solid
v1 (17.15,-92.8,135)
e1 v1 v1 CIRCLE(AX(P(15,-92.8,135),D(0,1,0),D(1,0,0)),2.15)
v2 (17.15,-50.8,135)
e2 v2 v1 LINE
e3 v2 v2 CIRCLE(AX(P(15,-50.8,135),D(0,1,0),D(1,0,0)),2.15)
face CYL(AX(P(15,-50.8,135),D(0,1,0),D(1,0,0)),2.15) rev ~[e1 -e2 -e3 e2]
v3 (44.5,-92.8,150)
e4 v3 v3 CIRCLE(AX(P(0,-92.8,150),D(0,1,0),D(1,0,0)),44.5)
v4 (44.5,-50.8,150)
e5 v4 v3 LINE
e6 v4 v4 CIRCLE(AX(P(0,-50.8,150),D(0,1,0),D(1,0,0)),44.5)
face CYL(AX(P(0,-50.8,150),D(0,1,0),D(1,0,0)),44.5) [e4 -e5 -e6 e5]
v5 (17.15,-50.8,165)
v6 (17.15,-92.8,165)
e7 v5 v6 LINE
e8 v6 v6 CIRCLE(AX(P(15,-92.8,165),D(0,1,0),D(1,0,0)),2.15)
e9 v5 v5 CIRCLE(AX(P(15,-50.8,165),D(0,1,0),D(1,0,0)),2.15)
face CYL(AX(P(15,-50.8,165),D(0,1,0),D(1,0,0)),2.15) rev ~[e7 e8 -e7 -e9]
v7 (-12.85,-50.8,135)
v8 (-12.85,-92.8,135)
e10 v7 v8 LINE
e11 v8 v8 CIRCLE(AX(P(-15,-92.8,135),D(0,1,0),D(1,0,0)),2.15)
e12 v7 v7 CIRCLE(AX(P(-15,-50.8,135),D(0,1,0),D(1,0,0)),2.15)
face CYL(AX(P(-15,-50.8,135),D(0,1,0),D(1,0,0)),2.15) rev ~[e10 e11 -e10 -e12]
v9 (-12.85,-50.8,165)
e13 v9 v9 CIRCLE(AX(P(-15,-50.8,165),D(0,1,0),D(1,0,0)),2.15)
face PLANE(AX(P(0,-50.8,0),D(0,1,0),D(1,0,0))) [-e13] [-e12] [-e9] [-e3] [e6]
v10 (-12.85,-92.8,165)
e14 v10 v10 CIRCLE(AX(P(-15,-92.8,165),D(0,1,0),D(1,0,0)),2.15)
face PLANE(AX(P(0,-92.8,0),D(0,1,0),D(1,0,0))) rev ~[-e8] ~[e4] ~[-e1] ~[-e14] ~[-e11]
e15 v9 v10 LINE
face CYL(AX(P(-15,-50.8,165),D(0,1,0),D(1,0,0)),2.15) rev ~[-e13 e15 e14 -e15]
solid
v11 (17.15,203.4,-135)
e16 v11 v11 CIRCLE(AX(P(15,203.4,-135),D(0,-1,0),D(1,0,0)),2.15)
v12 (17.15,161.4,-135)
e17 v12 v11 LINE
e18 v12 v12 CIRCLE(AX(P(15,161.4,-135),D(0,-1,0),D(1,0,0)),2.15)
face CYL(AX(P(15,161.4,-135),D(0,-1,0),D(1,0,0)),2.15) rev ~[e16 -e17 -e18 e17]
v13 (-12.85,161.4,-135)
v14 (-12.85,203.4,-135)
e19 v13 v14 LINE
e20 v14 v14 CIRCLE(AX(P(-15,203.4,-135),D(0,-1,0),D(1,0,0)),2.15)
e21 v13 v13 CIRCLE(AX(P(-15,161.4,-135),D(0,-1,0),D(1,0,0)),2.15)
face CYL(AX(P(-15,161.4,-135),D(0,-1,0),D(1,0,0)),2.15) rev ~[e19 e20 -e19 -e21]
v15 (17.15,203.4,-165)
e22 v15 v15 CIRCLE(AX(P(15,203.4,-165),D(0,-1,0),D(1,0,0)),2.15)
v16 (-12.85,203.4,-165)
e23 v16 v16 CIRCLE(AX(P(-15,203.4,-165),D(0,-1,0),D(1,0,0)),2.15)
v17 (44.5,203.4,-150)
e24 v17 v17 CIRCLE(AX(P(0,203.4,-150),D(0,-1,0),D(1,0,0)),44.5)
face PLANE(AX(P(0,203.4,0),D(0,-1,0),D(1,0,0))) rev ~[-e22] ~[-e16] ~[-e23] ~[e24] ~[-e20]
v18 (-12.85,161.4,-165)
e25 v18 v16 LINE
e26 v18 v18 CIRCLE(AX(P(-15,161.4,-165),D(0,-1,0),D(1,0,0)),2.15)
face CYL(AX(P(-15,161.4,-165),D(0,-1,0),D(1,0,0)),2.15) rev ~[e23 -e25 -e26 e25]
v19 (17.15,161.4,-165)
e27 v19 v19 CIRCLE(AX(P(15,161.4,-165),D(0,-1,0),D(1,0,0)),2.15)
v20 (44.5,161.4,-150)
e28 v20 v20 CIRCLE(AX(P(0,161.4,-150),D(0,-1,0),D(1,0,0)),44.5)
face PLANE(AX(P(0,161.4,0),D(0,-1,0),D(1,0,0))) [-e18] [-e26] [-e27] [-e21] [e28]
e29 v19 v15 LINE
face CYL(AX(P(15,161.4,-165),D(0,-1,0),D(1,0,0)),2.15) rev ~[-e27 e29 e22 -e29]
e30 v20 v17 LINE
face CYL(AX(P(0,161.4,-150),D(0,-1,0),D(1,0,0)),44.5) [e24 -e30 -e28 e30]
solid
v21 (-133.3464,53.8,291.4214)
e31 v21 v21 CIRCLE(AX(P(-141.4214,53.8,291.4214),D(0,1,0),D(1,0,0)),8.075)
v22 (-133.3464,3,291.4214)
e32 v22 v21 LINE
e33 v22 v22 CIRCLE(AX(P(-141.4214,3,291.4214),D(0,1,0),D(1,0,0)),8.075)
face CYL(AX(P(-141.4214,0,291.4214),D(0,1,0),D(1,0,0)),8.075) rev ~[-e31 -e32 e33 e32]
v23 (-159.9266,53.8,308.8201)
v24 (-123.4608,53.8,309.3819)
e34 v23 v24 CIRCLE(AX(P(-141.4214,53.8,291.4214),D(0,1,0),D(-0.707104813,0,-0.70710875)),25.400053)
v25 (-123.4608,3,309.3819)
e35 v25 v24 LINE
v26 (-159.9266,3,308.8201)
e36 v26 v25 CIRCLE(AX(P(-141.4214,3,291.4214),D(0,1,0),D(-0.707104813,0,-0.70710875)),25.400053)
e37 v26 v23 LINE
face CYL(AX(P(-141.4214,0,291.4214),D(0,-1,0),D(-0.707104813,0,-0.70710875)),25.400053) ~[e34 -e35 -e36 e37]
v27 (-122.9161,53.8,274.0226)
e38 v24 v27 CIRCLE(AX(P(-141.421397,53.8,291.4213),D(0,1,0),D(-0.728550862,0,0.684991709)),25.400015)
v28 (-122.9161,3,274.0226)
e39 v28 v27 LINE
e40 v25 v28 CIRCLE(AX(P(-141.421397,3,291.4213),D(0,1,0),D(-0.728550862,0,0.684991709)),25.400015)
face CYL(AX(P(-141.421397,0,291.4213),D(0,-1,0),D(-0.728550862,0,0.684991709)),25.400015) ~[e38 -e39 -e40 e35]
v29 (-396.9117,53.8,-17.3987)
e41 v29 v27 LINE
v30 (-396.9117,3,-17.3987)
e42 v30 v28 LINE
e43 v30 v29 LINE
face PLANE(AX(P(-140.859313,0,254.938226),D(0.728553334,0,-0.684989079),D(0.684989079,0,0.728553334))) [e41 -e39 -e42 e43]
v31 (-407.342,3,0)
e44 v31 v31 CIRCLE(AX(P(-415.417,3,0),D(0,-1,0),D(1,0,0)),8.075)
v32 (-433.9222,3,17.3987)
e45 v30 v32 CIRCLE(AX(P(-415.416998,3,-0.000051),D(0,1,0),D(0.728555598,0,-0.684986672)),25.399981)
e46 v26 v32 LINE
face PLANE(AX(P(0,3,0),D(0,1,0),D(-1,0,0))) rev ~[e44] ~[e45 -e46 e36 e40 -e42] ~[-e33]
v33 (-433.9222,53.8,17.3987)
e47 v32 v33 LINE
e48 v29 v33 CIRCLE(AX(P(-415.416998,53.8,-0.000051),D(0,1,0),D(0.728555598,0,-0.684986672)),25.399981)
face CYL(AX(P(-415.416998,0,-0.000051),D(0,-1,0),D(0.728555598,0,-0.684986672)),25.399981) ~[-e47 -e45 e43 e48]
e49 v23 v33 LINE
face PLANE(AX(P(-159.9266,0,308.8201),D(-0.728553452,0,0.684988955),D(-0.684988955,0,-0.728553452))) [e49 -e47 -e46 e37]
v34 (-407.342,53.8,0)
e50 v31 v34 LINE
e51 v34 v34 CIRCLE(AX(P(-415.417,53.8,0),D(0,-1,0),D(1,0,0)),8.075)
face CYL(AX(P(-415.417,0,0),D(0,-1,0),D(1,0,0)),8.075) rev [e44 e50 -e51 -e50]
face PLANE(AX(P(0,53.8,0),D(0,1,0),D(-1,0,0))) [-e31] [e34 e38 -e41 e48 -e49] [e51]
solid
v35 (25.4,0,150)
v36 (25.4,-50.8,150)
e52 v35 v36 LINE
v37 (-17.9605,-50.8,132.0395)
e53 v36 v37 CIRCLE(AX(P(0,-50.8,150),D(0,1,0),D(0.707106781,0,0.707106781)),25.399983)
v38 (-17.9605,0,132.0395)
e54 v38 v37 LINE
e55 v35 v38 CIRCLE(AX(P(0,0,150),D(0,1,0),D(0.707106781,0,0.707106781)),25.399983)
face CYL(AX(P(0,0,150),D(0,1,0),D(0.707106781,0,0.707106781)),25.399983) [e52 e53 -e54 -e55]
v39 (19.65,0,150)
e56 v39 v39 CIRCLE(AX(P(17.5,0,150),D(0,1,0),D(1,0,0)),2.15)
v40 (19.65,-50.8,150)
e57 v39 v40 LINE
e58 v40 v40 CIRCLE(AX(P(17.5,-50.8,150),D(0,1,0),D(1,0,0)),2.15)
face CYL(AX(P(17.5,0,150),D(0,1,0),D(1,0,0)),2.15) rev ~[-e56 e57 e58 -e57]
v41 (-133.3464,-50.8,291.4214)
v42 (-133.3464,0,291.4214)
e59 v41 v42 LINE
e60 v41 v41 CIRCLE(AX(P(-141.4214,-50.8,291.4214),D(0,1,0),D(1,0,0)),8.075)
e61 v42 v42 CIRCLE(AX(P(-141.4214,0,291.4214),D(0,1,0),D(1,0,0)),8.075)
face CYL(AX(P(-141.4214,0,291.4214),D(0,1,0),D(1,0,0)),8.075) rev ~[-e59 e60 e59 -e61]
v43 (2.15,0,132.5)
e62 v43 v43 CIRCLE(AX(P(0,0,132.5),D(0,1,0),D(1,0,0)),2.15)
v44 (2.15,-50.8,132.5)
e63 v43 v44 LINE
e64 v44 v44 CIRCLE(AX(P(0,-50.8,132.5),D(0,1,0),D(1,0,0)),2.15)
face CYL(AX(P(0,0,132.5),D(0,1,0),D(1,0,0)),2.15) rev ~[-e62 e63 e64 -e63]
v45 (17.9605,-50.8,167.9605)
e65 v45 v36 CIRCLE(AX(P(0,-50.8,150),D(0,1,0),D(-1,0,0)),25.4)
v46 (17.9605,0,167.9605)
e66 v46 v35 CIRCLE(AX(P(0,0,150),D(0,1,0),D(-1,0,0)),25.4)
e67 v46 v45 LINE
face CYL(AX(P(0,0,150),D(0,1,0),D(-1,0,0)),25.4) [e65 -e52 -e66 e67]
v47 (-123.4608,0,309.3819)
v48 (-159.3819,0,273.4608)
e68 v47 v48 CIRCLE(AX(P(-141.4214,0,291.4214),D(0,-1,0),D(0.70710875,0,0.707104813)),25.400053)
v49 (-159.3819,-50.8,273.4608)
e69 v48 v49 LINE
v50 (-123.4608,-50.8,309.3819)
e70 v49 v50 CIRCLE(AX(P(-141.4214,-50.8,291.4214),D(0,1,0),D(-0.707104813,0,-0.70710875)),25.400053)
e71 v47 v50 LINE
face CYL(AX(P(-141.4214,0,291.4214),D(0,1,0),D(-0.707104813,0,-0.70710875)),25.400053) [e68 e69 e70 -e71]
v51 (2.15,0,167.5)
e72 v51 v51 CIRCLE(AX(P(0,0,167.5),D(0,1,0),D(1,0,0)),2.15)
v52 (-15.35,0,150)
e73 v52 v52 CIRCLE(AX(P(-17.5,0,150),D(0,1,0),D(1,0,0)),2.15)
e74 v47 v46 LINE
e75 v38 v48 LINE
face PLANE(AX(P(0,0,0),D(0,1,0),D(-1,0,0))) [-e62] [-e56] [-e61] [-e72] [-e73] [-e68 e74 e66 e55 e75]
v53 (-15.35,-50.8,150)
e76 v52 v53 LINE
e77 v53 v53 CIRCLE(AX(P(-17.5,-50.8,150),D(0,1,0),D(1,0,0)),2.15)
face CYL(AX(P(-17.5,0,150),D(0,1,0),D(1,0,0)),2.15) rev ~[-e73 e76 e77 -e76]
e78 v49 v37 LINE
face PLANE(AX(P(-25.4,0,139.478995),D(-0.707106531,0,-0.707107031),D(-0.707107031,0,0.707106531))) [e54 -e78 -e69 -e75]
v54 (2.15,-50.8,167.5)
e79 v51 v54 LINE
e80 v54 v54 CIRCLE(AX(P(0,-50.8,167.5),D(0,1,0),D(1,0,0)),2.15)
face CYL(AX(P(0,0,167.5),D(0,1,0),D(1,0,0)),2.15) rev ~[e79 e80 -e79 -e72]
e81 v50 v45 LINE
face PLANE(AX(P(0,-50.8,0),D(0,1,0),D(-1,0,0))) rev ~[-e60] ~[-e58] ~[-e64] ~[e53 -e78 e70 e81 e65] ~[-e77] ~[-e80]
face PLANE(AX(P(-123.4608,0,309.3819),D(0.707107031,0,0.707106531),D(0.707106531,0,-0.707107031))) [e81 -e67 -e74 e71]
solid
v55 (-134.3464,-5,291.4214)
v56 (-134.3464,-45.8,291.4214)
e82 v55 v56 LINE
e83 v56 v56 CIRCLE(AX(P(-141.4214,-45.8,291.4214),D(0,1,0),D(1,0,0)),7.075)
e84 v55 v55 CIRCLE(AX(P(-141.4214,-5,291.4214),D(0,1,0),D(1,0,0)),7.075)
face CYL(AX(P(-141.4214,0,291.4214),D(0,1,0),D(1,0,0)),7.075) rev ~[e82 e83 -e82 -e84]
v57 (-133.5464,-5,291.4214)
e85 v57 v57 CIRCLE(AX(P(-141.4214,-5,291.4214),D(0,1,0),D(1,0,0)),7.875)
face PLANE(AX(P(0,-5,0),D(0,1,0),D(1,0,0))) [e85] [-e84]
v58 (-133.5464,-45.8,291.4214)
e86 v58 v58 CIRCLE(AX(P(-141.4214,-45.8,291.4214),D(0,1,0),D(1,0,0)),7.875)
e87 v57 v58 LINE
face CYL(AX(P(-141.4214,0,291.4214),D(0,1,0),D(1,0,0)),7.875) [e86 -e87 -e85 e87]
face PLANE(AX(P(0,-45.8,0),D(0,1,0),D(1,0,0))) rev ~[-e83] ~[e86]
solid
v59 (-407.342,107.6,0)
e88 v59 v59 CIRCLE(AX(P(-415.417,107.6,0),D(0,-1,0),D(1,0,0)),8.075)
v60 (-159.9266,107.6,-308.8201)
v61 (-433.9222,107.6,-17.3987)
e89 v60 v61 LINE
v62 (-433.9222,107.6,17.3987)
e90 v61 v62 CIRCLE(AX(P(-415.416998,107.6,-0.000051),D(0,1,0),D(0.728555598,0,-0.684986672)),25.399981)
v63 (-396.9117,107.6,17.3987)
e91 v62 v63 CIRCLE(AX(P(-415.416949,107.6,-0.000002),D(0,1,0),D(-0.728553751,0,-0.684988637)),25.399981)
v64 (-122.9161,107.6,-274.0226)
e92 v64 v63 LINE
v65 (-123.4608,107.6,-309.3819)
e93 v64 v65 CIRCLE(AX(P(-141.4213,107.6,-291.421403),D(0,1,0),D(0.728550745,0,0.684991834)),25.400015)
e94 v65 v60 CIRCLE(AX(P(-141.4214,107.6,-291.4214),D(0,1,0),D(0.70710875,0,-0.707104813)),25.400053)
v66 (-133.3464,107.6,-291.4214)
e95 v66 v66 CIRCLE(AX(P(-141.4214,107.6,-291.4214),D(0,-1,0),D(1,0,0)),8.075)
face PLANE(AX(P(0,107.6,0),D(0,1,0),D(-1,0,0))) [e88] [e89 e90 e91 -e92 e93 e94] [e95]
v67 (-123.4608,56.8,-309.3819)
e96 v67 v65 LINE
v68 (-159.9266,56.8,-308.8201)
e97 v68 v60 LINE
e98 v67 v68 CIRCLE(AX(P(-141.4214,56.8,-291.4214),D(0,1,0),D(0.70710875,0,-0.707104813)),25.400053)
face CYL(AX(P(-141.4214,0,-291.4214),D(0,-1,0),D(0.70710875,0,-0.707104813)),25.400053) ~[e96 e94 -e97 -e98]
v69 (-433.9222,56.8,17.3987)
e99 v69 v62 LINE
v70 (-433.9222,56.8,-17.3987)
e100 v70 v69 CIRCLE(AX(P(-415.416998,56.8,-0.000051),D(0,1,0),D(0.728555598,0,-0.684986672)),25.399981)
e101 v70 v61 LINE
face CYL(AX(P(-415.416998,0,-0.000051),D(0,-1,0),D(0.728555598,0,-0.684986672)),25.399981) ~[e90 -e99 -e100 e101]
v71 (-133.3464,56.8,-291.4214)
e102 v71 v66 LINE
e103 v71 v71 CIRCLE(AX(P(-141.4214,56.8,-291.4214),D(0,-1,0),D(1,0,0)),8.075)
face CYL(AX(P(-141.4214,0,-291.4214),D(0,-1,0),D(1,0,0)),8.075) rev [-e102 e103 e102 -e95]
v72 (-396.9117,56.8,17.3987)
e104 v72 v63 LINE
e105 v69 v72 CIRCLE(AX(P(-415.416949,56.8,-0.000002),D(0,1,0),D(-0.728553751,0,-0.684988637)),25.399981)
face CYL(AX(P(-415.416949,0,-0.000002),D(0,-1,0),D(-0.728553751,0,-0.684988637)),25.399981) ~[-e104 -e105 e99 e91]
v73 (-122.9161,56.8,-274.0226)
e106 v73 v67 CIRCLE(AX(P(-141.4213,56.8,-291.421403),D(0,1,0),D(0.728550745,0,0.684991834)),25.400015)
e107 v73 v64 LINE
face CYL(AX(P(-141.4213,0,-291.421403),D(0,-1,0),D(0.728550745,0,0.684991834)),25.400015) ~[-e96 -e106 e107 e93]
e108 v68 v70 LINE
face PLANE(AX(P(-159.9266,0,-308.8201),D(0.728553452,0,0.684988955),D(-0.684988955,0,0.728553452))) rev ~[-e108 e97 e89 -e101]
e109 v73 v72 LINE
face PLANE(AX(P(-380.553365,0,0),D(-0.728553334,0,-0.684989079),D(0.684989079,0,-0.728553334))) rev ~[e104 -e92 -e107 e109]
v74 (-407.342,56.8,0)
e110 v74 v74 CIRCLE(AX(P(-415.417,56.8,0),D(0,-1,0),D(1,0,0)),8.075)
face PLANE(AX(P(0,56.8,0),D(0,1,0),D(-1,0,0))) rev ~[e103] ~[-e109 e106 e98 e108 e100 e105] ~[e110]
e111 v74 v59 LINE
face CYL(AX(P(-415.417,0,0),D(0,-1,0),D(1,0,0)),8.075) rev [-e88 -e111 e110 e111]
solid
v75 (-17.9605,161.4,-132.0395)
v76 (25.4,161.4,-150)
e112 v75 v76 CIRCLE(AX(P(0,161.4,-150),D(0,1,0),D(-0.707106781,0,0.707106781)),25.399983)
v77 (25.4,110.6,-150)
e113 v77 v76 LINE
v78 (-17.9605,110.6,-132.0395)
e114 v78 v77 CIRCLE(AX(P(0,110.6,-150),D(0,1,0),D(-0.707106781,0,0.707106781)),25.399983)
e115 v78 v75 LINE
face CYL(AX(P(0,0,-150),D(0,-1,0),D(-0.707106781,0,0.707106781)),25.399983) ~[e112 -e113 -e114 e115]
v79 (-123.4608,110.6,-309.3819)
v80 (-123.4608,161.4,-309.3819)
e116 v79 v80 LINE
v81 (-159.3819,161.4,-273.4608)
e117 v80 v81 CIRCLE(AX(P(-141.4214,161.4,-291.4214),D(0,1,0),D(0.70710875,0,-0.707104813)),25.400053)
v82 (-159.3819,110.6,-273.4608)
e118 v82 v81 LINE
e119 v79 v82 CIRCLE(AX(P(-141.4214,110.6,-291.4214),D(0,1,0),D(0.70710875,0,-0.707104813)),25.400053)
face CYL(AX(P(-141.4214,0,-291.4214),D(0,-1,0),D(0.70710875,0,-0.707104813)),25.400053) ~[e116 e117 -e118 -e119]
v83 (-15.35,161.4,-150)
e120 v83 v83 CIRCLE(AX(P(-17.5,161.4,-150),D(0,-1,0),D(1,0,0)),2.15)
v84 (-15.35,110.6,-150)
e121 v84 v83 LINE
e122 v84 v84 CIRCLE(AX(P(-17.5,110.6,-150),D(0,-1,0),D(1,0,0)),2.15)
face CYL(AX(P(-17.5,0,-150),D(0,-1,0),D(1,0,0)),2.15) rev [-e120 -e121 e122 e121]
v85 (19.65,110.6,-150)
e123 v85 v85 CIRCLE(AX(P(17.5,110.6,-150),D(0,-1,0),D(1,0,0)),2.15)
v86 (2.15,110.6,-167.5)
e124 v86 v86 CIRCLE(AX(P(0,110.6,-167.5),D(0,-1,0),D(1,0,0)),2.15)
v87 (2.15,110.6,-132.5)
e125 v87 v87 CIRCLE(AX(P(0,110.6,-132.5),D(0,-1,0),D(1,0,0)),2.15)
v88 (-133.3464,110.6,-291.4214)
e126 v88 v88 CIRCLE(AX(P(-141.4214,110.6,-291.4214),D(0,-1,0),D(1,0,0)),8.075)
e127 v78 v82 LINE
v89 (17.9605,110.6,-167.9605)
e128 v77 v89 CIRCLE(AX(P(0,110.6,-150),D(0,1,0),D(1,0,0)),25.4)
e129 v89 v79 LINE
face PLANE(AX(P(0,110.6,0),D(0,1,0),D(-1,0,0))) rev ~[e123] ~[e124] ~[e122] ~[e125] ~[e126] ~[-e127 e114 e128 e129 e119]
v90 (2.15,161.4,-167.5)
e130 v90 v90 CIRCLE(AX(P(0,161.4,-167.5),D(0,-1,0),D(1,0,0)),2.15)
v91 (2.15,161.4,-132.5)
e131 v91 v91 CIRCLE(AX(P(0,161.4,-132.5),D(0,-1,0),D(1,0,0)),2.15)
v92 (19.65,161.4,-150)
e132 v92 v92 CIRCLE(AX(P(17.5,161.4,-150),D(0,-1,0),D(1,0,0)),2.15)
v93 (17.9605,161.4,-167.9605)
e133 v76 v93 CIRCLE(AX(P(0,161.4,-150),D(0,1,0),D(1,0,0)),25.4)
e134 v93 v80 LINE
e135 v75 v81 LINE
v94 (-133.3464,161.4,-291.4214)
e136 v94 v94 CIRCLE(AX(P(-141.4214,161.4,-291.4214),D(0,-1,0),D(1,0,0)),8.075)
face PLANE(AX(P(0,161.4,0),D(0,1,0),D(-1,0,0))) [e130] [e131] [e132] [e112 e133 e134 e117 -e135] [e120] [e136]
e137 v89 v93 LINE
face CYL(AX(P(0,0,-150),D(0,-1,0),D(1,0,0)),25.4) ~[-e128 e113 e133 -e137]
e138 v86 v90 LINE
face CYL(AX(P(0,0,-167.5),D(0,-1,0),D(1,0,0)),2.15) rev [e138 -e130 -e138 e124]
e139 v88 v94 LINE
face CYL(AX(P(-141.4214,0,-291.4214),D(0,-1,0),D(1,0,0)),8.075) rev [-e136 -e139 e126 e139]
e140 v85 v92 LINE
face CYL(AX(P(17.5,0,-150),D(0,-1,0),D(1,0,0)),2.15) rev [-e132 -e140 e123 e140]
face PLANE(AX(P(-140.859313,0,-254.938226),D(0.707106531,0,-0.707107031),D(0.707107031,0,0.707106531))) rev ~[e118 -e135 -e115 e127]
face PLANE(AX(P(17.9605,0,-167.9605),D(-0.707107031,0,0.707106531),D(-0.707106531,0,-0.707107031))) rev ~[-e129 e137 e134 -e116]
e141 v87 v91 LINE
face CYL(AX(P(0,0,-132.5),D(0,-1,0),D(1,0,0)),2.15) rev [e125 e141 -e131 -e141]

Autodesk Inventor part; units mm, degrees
ref_plane "YZ Plane" through (0, 0, 0) normal (1, 0, 0) x (0, 1, 0)
ref_plane "XZ Plane" through (0, 0, 0) normal (0, 1, 0) x (-1, 0, 0)
ref_plane "XY Plane" through (0, 0, 0) normal (0, 0, 1) x (1, 0, 0)
sketch "Sketch1" plane through (0, 0, 0) normal (0, 1, 0) x (-1, 0, 0)
  line L0 (1000, 500) -> (0, 500) construction
  line L1 (0, 500) -> (0, -500) construction
  line L2 (0, -500) -> (1000, -500) construction
  line L3 (1000, -500) -> (1000, 500) construction
  line L4 (0, 150) -> (0, -150) construction
  line L5 (25.4, 150) -> (25.4, -150)
  line L6 (-25.4, -150) -> (-25.4, 150)
  arc A0 (25.4, 150) -> (-25.4, 150) centre (0, 150) ccw
  arc A1 (-25.4, -150) -> (25.4, -150) centre (0, -150) ccw
  line L7 (141.4214, 291.4214) -> (0, 150) construction
  line L8 (123.4608, 309.3819) -> (-17.9605, 167.9605)
  line L9 (17.9605, 132.0395) -> (159.3819, 273.4608)
  arc A2 (159.3819, 273.4608) -> (123.4608, 309.3819) centre (141.4214, 291.4214) ccw
  arc A3 (-17.9605, 167.9605) -> (17.9605, 132.0395) centre (0, 150) ccw
  line L10 (141.4214, -291.4214) -> (0, -150) construction
  line L11 (159.3819, -273.4608) -> (17.9605, -132.0395)
  line L12 (-17.9605, -167.9605) -> (123.4608, -309.3819)
  arc A4 (123.4608, -309.3819) -> (159.3819, -273.4608) centre (141.4214, -291.4214) ccw
  arc A5 (17.9605, -132.0395) -> (-17.9605, -167.9605) centre (0, -150) ccw
  line L13 (141.4214, 291.4214) -> (415.417, 0) construction
  line L14 (159.9266, 308.8201) -> (433.9222, 17.3987)
  line L15 (396.9117, -17.3987) -> (122.9161, 274.0226)
  arc A6 (159.9266, 308.8201) -> (122.9161, 274.0226) centre (141.4214, 291.4214) ccw
  arc A7 (396.9117, -17.3987) -> (433.9222, 17.3987) centre (415.417, 0) ccw
  line L16 (141.4214, -291.4214) -> (415.417, 0) construction
  line L17 (159.9266, -308.8201) -> (433.9222, -17.3987)
  line L18 (396.9117, 17.3987) -> (122.9161, -274.0226)
  arc A8 (122.9161, -274.0226) -> (159.9266, -308.8201) centre (141.4214, -291.4214) ccw
  arc A9 (433.9222, -17.3987) -> (396.9117, 17.3987) centre (415.417, 0) ccw
  line L19 (141.4214, -291.4214) -> (141.4214, -558.8873) construction
  line L20 (141.4214, 291.4214) -> (141.4214, 228.8302) construction
  point P0 (0, 0)
  point P1 (0, 0)
  point P2 (0, 0)
  point P3 (70.7107, 220.7107)
  point P4 (70.7107, -220.7107)
  point P5 (278.4192, 145.7107)
  point P6 (278.4192, -145.7107)
  point P7 (-17.9605, 167.9605)
  point P8 (123.4608, -309.3819)
  point P9 (159.9266, -308.8201)
  point P10 (433.9222, -17.3987)
  point P11 (433.9222, 17.3987)
  point P12 (159.9266, 308.8201)
  point P13 (123.4608, 309.3819)
  point P14 (-25.4, -150)
  point P15 (-17.9605, -167.9605)
  dimension "d42" = 1000
  dimension "d43" = 1000
  dimension "d45" = 300
  dimension "d46" = 50.8
  dimension "d47" = 50.8
  dimension "d48" = 50.8
  dimension "d49" = 50.8
  dimension "d50" = 50.8
  dimension "d51" = 200
  dimension "d52" = 200
  dimension "d53" = 400
  dimension "d54" = 400
  dimension "d71" = 136.765
  dimension "d72" = 43.235
  dimension "d73" = 278.4192
  dimension "d74" = 145.7107
  dimension "d75" = 70.7107
  dimension "d76" = 220.7107
  dimension "d77" = 91.765
  dimension "d78" = 150
  dimension "d126" = 45
  dimension "d127" = 45
extrude "Extrusion6" add sketch "Sketch1" against normal blind 50.8 contours A0 L8 A6 L15 L9 L5 | L5 L9 A3 A0 | L15 A6 A2 L9
extrude "Extrusion7" add sketch "Sketch1" along normal blind 53.8 separate body contours L15 A6 A2 L9 | L9 A2 L14 A9 L18 L15 | L18 A9 A7 L15
extrude "Extrusion13" cut sketch "Sketch1" along normal blind 3 contours L15 A6 A2 L9 | L9 A2 L14 A9 L18 L15 | L18 A9 A7 L15 bodies 2
extrude "Extrusion8" add sketch "Sketch1" along normal blind 107.6 separate body contours L18 L15 A7 L17 A4 L11 | L11 A4 A8 L18 | L18 A9 A7 L15
extrude "Extrusion10" cut sketch "Sketch1" along normal blind 56.8 contours L18 L15 A7 L17 A4 L11 | L11 A4 A8 L18 | L18 A9 A7 L15 bodies 3
extrude "Extrusion9" add sketch "Sketch1" along normal blind 161.4 separate body contours L11 L18 A8 L12 A1 L5 | L5 A1 A5 L11 | L11 A4 A8 L18
extrude "Extrusion11" cut sketch "Sketch1" along normal blind 110.6 contours L11 L18 A8 L12 A1 L5 | L5 A1 A5 L11 | L11 A4 A8 L18 bodies 4
sketch "Sketch6" plane through (0, 0, 0) normal (0, 1, 0) x (1, 0, 0)
  arc A0 (17.9605, -167.9605) -> (-17.9605, -132.0395) centre (0, -150) ccw construction
  line L0 (0, -167.5) -> (-17.5, -150) construction
  line L1 (-17.5, -150) -> (0, -132.5) construction
  line L2 (0, -132.5) -> (17.5, -150) construction
  line L3 (17.5, -150) -> (0, -167.5) construction
  line L4 (0, -167.5) -> (0, -132.5) construction
  line L5 (-17.5, -150) -> (17.5, -150) construction
  circle A1 centre (0, -150) radius 17.5 construction
  line L6 (-123.4608, -309.3819) -> (17.9605, -167.9605) construction
  circle A2 centre (0, -167.5) radius 2.15
  circle A3 centre (-17.5, -150) radius 2.15
  circle A4 centre (17.5, -150) radius 2.15
  circle A5 centre (0, -132.5) radius 2.15
  arc A6 (-159.3819, -273.4608) -> (-123.4608, -309.3819) centre (-141.4214, -291.4214) ccw construction
  circle A7 centre (-141.4214, -291.4214) radius 8.075
  circle A8 centre (-141.4214, -291.4214) radius 7.075
  circle A9 centre (-141.4214, -291.4214) radius 7.875
  arc A10 (-433.9222, 17.3987) -> (-396.9117, -17.3987) centre (-415.417, 0) ccw construction
  arc A11 (-123.4608, 309.3819) -> (-159.3819, 273.4608) centre (-141.4214, 291.4214) ccw construction
  circle A12 centre (-415.417, 0) radius 8.075
  circle A13 centre (-141.4214, 291.4214) radius 8.075
  line L7 (0, 132.5) -> (-17.5, 150) construction
  line L8 (-17.5, 150) -> (0, 167.5) construction
  line L9 (0, 167.5) -> (17.5, 150) construction
  line L10 (17.5, 150) -> (0, 132.5) construction
  line L11 (0, 132.5) -> (0, 167.5) construction
  line L12 (-17.5, 150) -> (17.5, 150) construction
  circle A14 centre (0, 150) radius 17.5 construction
  circle A15 centre (0, 132.5) radius 2.15
  circle A16 centre (-17.5, 150) radius 2.15
  circle A17 centre (17.5, 150) radius 2.15
  circle A18 centre (0, 167.5) radius 2.15
  arc A19 (-17.9605, 132.0395) -> (17.9605, 167.9605) centre (0, 150) ccw construction
  line L13 (-159.3819, 273.4608) -> (-17.9605, 132.0395) construction
  point P0 (0, 0)
  dimension "d83" = 35
  dimension "d107" = 35
  dimension "d84" = 4.3
  dimension "d87" = 16.15
  dimension "d90" = 1
  dimension "d96" = 0.2
  dimension "d108" = 4.3
extrude "Extrusion19" cut sketch "Sketch6" along normal blind 1000 and the other way blind 1000 contours A2 | A3 | A4 | A5 | A7 | A8 | A9 | A12 | A13 | A15 | A16 | A17 | A18 bodies 1 2 3 4
extrude "Extrusion21" add sketch "Sketch6" against normal blind 45.8 separate body contours A9
extrude "Extrusion22" cut sketch "Sketch6" against normal blind 5 contours A9 bodies 5
ref_plane "Work Plane9" through (0, 55.3, 0) normal (0, 1, 0) x (1, 0, 0)
sketch "Sketch11" plane through (0, 55.3, 0) normal (0, 1, 0) x (1, 0, 0)
  line L0 (0, 0) -> (-361.3999, 0)
sketch "Sketch12" plane through (0, -50.8, 0) normal (0, 1, 0) x (1, 0, 0)
  circle A0 centre (0, -167.5) radius 2.15 projected
  circle A1 centre (-17.5, -150) radius 2.15 projected
  circle A2 centre (17.5, -150) radius 2.15 projected
  circle A3 centre (0, -132.5) radius 2.15 projected
  arc A4 (17.9605, -167.9605) -> (-17.9605, -132.0395) centre (0, -150) ccw projected
  circle A5 centre (0, -150) radius 44.5
  line L0 (15, -165) -> (-15, -165) construction
  line L1 (-15, -165) -> (-15, -135) construction
  line L2 (-15, -135) -> (15, -135) construction
  line L3 (15, -135) -> (15, -165) construction
  line L4 (15, -165) -> (-15, -135) construction
  line L5 (-15, -165) -> (15, -135) construction
  circle A6 centre (-15, -165) radius 2.15
  circle A7 centre (15, -165) radius 2.15
  circle A8 centre (15, -135) radius 2.15
  circle A9 centre (-15, -135) radius 2.15
  point P0 (0, 0)
  dimension "d113" = 89
  dimension "d114" = 30
  dimension "d115" = 4.3
extrude "Extrusion23" add sketch "Sketch12" against normal blind 42 separate body contours A0 | A1 | A2 | A3 | A5
pattern_circular "Circular Pattern3" count 2 over 360 about axis through (0, 55.3, 0) along (-1, 0, 0) of "Extrusion23" bodies 6
equation "\"d45\" = L_G"
equation "\"d46\" = t"
equation "\"d47\" = t"
equation "\"d48\" = t"
equation "\"d49\" = t"
equation "\"d50\" = t"
equation "\"d51\" = L_P"
equation "\"d52\" = L_P"
equation "\"d53\" = L_D"
equation "\"d54\" = L_D"
equation "\"d57\" = t"
equation "\"d59\" = t + sep"
equation "\"d79\" = sep"
equation "\"d61\" = 2 * t + 2 * sep"
equation "\"L_G\" = 300"
equation "\"L_P\" = 200"
equation "\"L_D\" = 400"
equation "\"t\" = 50.8 * scale"
equation "\"sep\" = 3"
equation "\"scale\" = 1"
properties part number "5 Barras Simplificado"
